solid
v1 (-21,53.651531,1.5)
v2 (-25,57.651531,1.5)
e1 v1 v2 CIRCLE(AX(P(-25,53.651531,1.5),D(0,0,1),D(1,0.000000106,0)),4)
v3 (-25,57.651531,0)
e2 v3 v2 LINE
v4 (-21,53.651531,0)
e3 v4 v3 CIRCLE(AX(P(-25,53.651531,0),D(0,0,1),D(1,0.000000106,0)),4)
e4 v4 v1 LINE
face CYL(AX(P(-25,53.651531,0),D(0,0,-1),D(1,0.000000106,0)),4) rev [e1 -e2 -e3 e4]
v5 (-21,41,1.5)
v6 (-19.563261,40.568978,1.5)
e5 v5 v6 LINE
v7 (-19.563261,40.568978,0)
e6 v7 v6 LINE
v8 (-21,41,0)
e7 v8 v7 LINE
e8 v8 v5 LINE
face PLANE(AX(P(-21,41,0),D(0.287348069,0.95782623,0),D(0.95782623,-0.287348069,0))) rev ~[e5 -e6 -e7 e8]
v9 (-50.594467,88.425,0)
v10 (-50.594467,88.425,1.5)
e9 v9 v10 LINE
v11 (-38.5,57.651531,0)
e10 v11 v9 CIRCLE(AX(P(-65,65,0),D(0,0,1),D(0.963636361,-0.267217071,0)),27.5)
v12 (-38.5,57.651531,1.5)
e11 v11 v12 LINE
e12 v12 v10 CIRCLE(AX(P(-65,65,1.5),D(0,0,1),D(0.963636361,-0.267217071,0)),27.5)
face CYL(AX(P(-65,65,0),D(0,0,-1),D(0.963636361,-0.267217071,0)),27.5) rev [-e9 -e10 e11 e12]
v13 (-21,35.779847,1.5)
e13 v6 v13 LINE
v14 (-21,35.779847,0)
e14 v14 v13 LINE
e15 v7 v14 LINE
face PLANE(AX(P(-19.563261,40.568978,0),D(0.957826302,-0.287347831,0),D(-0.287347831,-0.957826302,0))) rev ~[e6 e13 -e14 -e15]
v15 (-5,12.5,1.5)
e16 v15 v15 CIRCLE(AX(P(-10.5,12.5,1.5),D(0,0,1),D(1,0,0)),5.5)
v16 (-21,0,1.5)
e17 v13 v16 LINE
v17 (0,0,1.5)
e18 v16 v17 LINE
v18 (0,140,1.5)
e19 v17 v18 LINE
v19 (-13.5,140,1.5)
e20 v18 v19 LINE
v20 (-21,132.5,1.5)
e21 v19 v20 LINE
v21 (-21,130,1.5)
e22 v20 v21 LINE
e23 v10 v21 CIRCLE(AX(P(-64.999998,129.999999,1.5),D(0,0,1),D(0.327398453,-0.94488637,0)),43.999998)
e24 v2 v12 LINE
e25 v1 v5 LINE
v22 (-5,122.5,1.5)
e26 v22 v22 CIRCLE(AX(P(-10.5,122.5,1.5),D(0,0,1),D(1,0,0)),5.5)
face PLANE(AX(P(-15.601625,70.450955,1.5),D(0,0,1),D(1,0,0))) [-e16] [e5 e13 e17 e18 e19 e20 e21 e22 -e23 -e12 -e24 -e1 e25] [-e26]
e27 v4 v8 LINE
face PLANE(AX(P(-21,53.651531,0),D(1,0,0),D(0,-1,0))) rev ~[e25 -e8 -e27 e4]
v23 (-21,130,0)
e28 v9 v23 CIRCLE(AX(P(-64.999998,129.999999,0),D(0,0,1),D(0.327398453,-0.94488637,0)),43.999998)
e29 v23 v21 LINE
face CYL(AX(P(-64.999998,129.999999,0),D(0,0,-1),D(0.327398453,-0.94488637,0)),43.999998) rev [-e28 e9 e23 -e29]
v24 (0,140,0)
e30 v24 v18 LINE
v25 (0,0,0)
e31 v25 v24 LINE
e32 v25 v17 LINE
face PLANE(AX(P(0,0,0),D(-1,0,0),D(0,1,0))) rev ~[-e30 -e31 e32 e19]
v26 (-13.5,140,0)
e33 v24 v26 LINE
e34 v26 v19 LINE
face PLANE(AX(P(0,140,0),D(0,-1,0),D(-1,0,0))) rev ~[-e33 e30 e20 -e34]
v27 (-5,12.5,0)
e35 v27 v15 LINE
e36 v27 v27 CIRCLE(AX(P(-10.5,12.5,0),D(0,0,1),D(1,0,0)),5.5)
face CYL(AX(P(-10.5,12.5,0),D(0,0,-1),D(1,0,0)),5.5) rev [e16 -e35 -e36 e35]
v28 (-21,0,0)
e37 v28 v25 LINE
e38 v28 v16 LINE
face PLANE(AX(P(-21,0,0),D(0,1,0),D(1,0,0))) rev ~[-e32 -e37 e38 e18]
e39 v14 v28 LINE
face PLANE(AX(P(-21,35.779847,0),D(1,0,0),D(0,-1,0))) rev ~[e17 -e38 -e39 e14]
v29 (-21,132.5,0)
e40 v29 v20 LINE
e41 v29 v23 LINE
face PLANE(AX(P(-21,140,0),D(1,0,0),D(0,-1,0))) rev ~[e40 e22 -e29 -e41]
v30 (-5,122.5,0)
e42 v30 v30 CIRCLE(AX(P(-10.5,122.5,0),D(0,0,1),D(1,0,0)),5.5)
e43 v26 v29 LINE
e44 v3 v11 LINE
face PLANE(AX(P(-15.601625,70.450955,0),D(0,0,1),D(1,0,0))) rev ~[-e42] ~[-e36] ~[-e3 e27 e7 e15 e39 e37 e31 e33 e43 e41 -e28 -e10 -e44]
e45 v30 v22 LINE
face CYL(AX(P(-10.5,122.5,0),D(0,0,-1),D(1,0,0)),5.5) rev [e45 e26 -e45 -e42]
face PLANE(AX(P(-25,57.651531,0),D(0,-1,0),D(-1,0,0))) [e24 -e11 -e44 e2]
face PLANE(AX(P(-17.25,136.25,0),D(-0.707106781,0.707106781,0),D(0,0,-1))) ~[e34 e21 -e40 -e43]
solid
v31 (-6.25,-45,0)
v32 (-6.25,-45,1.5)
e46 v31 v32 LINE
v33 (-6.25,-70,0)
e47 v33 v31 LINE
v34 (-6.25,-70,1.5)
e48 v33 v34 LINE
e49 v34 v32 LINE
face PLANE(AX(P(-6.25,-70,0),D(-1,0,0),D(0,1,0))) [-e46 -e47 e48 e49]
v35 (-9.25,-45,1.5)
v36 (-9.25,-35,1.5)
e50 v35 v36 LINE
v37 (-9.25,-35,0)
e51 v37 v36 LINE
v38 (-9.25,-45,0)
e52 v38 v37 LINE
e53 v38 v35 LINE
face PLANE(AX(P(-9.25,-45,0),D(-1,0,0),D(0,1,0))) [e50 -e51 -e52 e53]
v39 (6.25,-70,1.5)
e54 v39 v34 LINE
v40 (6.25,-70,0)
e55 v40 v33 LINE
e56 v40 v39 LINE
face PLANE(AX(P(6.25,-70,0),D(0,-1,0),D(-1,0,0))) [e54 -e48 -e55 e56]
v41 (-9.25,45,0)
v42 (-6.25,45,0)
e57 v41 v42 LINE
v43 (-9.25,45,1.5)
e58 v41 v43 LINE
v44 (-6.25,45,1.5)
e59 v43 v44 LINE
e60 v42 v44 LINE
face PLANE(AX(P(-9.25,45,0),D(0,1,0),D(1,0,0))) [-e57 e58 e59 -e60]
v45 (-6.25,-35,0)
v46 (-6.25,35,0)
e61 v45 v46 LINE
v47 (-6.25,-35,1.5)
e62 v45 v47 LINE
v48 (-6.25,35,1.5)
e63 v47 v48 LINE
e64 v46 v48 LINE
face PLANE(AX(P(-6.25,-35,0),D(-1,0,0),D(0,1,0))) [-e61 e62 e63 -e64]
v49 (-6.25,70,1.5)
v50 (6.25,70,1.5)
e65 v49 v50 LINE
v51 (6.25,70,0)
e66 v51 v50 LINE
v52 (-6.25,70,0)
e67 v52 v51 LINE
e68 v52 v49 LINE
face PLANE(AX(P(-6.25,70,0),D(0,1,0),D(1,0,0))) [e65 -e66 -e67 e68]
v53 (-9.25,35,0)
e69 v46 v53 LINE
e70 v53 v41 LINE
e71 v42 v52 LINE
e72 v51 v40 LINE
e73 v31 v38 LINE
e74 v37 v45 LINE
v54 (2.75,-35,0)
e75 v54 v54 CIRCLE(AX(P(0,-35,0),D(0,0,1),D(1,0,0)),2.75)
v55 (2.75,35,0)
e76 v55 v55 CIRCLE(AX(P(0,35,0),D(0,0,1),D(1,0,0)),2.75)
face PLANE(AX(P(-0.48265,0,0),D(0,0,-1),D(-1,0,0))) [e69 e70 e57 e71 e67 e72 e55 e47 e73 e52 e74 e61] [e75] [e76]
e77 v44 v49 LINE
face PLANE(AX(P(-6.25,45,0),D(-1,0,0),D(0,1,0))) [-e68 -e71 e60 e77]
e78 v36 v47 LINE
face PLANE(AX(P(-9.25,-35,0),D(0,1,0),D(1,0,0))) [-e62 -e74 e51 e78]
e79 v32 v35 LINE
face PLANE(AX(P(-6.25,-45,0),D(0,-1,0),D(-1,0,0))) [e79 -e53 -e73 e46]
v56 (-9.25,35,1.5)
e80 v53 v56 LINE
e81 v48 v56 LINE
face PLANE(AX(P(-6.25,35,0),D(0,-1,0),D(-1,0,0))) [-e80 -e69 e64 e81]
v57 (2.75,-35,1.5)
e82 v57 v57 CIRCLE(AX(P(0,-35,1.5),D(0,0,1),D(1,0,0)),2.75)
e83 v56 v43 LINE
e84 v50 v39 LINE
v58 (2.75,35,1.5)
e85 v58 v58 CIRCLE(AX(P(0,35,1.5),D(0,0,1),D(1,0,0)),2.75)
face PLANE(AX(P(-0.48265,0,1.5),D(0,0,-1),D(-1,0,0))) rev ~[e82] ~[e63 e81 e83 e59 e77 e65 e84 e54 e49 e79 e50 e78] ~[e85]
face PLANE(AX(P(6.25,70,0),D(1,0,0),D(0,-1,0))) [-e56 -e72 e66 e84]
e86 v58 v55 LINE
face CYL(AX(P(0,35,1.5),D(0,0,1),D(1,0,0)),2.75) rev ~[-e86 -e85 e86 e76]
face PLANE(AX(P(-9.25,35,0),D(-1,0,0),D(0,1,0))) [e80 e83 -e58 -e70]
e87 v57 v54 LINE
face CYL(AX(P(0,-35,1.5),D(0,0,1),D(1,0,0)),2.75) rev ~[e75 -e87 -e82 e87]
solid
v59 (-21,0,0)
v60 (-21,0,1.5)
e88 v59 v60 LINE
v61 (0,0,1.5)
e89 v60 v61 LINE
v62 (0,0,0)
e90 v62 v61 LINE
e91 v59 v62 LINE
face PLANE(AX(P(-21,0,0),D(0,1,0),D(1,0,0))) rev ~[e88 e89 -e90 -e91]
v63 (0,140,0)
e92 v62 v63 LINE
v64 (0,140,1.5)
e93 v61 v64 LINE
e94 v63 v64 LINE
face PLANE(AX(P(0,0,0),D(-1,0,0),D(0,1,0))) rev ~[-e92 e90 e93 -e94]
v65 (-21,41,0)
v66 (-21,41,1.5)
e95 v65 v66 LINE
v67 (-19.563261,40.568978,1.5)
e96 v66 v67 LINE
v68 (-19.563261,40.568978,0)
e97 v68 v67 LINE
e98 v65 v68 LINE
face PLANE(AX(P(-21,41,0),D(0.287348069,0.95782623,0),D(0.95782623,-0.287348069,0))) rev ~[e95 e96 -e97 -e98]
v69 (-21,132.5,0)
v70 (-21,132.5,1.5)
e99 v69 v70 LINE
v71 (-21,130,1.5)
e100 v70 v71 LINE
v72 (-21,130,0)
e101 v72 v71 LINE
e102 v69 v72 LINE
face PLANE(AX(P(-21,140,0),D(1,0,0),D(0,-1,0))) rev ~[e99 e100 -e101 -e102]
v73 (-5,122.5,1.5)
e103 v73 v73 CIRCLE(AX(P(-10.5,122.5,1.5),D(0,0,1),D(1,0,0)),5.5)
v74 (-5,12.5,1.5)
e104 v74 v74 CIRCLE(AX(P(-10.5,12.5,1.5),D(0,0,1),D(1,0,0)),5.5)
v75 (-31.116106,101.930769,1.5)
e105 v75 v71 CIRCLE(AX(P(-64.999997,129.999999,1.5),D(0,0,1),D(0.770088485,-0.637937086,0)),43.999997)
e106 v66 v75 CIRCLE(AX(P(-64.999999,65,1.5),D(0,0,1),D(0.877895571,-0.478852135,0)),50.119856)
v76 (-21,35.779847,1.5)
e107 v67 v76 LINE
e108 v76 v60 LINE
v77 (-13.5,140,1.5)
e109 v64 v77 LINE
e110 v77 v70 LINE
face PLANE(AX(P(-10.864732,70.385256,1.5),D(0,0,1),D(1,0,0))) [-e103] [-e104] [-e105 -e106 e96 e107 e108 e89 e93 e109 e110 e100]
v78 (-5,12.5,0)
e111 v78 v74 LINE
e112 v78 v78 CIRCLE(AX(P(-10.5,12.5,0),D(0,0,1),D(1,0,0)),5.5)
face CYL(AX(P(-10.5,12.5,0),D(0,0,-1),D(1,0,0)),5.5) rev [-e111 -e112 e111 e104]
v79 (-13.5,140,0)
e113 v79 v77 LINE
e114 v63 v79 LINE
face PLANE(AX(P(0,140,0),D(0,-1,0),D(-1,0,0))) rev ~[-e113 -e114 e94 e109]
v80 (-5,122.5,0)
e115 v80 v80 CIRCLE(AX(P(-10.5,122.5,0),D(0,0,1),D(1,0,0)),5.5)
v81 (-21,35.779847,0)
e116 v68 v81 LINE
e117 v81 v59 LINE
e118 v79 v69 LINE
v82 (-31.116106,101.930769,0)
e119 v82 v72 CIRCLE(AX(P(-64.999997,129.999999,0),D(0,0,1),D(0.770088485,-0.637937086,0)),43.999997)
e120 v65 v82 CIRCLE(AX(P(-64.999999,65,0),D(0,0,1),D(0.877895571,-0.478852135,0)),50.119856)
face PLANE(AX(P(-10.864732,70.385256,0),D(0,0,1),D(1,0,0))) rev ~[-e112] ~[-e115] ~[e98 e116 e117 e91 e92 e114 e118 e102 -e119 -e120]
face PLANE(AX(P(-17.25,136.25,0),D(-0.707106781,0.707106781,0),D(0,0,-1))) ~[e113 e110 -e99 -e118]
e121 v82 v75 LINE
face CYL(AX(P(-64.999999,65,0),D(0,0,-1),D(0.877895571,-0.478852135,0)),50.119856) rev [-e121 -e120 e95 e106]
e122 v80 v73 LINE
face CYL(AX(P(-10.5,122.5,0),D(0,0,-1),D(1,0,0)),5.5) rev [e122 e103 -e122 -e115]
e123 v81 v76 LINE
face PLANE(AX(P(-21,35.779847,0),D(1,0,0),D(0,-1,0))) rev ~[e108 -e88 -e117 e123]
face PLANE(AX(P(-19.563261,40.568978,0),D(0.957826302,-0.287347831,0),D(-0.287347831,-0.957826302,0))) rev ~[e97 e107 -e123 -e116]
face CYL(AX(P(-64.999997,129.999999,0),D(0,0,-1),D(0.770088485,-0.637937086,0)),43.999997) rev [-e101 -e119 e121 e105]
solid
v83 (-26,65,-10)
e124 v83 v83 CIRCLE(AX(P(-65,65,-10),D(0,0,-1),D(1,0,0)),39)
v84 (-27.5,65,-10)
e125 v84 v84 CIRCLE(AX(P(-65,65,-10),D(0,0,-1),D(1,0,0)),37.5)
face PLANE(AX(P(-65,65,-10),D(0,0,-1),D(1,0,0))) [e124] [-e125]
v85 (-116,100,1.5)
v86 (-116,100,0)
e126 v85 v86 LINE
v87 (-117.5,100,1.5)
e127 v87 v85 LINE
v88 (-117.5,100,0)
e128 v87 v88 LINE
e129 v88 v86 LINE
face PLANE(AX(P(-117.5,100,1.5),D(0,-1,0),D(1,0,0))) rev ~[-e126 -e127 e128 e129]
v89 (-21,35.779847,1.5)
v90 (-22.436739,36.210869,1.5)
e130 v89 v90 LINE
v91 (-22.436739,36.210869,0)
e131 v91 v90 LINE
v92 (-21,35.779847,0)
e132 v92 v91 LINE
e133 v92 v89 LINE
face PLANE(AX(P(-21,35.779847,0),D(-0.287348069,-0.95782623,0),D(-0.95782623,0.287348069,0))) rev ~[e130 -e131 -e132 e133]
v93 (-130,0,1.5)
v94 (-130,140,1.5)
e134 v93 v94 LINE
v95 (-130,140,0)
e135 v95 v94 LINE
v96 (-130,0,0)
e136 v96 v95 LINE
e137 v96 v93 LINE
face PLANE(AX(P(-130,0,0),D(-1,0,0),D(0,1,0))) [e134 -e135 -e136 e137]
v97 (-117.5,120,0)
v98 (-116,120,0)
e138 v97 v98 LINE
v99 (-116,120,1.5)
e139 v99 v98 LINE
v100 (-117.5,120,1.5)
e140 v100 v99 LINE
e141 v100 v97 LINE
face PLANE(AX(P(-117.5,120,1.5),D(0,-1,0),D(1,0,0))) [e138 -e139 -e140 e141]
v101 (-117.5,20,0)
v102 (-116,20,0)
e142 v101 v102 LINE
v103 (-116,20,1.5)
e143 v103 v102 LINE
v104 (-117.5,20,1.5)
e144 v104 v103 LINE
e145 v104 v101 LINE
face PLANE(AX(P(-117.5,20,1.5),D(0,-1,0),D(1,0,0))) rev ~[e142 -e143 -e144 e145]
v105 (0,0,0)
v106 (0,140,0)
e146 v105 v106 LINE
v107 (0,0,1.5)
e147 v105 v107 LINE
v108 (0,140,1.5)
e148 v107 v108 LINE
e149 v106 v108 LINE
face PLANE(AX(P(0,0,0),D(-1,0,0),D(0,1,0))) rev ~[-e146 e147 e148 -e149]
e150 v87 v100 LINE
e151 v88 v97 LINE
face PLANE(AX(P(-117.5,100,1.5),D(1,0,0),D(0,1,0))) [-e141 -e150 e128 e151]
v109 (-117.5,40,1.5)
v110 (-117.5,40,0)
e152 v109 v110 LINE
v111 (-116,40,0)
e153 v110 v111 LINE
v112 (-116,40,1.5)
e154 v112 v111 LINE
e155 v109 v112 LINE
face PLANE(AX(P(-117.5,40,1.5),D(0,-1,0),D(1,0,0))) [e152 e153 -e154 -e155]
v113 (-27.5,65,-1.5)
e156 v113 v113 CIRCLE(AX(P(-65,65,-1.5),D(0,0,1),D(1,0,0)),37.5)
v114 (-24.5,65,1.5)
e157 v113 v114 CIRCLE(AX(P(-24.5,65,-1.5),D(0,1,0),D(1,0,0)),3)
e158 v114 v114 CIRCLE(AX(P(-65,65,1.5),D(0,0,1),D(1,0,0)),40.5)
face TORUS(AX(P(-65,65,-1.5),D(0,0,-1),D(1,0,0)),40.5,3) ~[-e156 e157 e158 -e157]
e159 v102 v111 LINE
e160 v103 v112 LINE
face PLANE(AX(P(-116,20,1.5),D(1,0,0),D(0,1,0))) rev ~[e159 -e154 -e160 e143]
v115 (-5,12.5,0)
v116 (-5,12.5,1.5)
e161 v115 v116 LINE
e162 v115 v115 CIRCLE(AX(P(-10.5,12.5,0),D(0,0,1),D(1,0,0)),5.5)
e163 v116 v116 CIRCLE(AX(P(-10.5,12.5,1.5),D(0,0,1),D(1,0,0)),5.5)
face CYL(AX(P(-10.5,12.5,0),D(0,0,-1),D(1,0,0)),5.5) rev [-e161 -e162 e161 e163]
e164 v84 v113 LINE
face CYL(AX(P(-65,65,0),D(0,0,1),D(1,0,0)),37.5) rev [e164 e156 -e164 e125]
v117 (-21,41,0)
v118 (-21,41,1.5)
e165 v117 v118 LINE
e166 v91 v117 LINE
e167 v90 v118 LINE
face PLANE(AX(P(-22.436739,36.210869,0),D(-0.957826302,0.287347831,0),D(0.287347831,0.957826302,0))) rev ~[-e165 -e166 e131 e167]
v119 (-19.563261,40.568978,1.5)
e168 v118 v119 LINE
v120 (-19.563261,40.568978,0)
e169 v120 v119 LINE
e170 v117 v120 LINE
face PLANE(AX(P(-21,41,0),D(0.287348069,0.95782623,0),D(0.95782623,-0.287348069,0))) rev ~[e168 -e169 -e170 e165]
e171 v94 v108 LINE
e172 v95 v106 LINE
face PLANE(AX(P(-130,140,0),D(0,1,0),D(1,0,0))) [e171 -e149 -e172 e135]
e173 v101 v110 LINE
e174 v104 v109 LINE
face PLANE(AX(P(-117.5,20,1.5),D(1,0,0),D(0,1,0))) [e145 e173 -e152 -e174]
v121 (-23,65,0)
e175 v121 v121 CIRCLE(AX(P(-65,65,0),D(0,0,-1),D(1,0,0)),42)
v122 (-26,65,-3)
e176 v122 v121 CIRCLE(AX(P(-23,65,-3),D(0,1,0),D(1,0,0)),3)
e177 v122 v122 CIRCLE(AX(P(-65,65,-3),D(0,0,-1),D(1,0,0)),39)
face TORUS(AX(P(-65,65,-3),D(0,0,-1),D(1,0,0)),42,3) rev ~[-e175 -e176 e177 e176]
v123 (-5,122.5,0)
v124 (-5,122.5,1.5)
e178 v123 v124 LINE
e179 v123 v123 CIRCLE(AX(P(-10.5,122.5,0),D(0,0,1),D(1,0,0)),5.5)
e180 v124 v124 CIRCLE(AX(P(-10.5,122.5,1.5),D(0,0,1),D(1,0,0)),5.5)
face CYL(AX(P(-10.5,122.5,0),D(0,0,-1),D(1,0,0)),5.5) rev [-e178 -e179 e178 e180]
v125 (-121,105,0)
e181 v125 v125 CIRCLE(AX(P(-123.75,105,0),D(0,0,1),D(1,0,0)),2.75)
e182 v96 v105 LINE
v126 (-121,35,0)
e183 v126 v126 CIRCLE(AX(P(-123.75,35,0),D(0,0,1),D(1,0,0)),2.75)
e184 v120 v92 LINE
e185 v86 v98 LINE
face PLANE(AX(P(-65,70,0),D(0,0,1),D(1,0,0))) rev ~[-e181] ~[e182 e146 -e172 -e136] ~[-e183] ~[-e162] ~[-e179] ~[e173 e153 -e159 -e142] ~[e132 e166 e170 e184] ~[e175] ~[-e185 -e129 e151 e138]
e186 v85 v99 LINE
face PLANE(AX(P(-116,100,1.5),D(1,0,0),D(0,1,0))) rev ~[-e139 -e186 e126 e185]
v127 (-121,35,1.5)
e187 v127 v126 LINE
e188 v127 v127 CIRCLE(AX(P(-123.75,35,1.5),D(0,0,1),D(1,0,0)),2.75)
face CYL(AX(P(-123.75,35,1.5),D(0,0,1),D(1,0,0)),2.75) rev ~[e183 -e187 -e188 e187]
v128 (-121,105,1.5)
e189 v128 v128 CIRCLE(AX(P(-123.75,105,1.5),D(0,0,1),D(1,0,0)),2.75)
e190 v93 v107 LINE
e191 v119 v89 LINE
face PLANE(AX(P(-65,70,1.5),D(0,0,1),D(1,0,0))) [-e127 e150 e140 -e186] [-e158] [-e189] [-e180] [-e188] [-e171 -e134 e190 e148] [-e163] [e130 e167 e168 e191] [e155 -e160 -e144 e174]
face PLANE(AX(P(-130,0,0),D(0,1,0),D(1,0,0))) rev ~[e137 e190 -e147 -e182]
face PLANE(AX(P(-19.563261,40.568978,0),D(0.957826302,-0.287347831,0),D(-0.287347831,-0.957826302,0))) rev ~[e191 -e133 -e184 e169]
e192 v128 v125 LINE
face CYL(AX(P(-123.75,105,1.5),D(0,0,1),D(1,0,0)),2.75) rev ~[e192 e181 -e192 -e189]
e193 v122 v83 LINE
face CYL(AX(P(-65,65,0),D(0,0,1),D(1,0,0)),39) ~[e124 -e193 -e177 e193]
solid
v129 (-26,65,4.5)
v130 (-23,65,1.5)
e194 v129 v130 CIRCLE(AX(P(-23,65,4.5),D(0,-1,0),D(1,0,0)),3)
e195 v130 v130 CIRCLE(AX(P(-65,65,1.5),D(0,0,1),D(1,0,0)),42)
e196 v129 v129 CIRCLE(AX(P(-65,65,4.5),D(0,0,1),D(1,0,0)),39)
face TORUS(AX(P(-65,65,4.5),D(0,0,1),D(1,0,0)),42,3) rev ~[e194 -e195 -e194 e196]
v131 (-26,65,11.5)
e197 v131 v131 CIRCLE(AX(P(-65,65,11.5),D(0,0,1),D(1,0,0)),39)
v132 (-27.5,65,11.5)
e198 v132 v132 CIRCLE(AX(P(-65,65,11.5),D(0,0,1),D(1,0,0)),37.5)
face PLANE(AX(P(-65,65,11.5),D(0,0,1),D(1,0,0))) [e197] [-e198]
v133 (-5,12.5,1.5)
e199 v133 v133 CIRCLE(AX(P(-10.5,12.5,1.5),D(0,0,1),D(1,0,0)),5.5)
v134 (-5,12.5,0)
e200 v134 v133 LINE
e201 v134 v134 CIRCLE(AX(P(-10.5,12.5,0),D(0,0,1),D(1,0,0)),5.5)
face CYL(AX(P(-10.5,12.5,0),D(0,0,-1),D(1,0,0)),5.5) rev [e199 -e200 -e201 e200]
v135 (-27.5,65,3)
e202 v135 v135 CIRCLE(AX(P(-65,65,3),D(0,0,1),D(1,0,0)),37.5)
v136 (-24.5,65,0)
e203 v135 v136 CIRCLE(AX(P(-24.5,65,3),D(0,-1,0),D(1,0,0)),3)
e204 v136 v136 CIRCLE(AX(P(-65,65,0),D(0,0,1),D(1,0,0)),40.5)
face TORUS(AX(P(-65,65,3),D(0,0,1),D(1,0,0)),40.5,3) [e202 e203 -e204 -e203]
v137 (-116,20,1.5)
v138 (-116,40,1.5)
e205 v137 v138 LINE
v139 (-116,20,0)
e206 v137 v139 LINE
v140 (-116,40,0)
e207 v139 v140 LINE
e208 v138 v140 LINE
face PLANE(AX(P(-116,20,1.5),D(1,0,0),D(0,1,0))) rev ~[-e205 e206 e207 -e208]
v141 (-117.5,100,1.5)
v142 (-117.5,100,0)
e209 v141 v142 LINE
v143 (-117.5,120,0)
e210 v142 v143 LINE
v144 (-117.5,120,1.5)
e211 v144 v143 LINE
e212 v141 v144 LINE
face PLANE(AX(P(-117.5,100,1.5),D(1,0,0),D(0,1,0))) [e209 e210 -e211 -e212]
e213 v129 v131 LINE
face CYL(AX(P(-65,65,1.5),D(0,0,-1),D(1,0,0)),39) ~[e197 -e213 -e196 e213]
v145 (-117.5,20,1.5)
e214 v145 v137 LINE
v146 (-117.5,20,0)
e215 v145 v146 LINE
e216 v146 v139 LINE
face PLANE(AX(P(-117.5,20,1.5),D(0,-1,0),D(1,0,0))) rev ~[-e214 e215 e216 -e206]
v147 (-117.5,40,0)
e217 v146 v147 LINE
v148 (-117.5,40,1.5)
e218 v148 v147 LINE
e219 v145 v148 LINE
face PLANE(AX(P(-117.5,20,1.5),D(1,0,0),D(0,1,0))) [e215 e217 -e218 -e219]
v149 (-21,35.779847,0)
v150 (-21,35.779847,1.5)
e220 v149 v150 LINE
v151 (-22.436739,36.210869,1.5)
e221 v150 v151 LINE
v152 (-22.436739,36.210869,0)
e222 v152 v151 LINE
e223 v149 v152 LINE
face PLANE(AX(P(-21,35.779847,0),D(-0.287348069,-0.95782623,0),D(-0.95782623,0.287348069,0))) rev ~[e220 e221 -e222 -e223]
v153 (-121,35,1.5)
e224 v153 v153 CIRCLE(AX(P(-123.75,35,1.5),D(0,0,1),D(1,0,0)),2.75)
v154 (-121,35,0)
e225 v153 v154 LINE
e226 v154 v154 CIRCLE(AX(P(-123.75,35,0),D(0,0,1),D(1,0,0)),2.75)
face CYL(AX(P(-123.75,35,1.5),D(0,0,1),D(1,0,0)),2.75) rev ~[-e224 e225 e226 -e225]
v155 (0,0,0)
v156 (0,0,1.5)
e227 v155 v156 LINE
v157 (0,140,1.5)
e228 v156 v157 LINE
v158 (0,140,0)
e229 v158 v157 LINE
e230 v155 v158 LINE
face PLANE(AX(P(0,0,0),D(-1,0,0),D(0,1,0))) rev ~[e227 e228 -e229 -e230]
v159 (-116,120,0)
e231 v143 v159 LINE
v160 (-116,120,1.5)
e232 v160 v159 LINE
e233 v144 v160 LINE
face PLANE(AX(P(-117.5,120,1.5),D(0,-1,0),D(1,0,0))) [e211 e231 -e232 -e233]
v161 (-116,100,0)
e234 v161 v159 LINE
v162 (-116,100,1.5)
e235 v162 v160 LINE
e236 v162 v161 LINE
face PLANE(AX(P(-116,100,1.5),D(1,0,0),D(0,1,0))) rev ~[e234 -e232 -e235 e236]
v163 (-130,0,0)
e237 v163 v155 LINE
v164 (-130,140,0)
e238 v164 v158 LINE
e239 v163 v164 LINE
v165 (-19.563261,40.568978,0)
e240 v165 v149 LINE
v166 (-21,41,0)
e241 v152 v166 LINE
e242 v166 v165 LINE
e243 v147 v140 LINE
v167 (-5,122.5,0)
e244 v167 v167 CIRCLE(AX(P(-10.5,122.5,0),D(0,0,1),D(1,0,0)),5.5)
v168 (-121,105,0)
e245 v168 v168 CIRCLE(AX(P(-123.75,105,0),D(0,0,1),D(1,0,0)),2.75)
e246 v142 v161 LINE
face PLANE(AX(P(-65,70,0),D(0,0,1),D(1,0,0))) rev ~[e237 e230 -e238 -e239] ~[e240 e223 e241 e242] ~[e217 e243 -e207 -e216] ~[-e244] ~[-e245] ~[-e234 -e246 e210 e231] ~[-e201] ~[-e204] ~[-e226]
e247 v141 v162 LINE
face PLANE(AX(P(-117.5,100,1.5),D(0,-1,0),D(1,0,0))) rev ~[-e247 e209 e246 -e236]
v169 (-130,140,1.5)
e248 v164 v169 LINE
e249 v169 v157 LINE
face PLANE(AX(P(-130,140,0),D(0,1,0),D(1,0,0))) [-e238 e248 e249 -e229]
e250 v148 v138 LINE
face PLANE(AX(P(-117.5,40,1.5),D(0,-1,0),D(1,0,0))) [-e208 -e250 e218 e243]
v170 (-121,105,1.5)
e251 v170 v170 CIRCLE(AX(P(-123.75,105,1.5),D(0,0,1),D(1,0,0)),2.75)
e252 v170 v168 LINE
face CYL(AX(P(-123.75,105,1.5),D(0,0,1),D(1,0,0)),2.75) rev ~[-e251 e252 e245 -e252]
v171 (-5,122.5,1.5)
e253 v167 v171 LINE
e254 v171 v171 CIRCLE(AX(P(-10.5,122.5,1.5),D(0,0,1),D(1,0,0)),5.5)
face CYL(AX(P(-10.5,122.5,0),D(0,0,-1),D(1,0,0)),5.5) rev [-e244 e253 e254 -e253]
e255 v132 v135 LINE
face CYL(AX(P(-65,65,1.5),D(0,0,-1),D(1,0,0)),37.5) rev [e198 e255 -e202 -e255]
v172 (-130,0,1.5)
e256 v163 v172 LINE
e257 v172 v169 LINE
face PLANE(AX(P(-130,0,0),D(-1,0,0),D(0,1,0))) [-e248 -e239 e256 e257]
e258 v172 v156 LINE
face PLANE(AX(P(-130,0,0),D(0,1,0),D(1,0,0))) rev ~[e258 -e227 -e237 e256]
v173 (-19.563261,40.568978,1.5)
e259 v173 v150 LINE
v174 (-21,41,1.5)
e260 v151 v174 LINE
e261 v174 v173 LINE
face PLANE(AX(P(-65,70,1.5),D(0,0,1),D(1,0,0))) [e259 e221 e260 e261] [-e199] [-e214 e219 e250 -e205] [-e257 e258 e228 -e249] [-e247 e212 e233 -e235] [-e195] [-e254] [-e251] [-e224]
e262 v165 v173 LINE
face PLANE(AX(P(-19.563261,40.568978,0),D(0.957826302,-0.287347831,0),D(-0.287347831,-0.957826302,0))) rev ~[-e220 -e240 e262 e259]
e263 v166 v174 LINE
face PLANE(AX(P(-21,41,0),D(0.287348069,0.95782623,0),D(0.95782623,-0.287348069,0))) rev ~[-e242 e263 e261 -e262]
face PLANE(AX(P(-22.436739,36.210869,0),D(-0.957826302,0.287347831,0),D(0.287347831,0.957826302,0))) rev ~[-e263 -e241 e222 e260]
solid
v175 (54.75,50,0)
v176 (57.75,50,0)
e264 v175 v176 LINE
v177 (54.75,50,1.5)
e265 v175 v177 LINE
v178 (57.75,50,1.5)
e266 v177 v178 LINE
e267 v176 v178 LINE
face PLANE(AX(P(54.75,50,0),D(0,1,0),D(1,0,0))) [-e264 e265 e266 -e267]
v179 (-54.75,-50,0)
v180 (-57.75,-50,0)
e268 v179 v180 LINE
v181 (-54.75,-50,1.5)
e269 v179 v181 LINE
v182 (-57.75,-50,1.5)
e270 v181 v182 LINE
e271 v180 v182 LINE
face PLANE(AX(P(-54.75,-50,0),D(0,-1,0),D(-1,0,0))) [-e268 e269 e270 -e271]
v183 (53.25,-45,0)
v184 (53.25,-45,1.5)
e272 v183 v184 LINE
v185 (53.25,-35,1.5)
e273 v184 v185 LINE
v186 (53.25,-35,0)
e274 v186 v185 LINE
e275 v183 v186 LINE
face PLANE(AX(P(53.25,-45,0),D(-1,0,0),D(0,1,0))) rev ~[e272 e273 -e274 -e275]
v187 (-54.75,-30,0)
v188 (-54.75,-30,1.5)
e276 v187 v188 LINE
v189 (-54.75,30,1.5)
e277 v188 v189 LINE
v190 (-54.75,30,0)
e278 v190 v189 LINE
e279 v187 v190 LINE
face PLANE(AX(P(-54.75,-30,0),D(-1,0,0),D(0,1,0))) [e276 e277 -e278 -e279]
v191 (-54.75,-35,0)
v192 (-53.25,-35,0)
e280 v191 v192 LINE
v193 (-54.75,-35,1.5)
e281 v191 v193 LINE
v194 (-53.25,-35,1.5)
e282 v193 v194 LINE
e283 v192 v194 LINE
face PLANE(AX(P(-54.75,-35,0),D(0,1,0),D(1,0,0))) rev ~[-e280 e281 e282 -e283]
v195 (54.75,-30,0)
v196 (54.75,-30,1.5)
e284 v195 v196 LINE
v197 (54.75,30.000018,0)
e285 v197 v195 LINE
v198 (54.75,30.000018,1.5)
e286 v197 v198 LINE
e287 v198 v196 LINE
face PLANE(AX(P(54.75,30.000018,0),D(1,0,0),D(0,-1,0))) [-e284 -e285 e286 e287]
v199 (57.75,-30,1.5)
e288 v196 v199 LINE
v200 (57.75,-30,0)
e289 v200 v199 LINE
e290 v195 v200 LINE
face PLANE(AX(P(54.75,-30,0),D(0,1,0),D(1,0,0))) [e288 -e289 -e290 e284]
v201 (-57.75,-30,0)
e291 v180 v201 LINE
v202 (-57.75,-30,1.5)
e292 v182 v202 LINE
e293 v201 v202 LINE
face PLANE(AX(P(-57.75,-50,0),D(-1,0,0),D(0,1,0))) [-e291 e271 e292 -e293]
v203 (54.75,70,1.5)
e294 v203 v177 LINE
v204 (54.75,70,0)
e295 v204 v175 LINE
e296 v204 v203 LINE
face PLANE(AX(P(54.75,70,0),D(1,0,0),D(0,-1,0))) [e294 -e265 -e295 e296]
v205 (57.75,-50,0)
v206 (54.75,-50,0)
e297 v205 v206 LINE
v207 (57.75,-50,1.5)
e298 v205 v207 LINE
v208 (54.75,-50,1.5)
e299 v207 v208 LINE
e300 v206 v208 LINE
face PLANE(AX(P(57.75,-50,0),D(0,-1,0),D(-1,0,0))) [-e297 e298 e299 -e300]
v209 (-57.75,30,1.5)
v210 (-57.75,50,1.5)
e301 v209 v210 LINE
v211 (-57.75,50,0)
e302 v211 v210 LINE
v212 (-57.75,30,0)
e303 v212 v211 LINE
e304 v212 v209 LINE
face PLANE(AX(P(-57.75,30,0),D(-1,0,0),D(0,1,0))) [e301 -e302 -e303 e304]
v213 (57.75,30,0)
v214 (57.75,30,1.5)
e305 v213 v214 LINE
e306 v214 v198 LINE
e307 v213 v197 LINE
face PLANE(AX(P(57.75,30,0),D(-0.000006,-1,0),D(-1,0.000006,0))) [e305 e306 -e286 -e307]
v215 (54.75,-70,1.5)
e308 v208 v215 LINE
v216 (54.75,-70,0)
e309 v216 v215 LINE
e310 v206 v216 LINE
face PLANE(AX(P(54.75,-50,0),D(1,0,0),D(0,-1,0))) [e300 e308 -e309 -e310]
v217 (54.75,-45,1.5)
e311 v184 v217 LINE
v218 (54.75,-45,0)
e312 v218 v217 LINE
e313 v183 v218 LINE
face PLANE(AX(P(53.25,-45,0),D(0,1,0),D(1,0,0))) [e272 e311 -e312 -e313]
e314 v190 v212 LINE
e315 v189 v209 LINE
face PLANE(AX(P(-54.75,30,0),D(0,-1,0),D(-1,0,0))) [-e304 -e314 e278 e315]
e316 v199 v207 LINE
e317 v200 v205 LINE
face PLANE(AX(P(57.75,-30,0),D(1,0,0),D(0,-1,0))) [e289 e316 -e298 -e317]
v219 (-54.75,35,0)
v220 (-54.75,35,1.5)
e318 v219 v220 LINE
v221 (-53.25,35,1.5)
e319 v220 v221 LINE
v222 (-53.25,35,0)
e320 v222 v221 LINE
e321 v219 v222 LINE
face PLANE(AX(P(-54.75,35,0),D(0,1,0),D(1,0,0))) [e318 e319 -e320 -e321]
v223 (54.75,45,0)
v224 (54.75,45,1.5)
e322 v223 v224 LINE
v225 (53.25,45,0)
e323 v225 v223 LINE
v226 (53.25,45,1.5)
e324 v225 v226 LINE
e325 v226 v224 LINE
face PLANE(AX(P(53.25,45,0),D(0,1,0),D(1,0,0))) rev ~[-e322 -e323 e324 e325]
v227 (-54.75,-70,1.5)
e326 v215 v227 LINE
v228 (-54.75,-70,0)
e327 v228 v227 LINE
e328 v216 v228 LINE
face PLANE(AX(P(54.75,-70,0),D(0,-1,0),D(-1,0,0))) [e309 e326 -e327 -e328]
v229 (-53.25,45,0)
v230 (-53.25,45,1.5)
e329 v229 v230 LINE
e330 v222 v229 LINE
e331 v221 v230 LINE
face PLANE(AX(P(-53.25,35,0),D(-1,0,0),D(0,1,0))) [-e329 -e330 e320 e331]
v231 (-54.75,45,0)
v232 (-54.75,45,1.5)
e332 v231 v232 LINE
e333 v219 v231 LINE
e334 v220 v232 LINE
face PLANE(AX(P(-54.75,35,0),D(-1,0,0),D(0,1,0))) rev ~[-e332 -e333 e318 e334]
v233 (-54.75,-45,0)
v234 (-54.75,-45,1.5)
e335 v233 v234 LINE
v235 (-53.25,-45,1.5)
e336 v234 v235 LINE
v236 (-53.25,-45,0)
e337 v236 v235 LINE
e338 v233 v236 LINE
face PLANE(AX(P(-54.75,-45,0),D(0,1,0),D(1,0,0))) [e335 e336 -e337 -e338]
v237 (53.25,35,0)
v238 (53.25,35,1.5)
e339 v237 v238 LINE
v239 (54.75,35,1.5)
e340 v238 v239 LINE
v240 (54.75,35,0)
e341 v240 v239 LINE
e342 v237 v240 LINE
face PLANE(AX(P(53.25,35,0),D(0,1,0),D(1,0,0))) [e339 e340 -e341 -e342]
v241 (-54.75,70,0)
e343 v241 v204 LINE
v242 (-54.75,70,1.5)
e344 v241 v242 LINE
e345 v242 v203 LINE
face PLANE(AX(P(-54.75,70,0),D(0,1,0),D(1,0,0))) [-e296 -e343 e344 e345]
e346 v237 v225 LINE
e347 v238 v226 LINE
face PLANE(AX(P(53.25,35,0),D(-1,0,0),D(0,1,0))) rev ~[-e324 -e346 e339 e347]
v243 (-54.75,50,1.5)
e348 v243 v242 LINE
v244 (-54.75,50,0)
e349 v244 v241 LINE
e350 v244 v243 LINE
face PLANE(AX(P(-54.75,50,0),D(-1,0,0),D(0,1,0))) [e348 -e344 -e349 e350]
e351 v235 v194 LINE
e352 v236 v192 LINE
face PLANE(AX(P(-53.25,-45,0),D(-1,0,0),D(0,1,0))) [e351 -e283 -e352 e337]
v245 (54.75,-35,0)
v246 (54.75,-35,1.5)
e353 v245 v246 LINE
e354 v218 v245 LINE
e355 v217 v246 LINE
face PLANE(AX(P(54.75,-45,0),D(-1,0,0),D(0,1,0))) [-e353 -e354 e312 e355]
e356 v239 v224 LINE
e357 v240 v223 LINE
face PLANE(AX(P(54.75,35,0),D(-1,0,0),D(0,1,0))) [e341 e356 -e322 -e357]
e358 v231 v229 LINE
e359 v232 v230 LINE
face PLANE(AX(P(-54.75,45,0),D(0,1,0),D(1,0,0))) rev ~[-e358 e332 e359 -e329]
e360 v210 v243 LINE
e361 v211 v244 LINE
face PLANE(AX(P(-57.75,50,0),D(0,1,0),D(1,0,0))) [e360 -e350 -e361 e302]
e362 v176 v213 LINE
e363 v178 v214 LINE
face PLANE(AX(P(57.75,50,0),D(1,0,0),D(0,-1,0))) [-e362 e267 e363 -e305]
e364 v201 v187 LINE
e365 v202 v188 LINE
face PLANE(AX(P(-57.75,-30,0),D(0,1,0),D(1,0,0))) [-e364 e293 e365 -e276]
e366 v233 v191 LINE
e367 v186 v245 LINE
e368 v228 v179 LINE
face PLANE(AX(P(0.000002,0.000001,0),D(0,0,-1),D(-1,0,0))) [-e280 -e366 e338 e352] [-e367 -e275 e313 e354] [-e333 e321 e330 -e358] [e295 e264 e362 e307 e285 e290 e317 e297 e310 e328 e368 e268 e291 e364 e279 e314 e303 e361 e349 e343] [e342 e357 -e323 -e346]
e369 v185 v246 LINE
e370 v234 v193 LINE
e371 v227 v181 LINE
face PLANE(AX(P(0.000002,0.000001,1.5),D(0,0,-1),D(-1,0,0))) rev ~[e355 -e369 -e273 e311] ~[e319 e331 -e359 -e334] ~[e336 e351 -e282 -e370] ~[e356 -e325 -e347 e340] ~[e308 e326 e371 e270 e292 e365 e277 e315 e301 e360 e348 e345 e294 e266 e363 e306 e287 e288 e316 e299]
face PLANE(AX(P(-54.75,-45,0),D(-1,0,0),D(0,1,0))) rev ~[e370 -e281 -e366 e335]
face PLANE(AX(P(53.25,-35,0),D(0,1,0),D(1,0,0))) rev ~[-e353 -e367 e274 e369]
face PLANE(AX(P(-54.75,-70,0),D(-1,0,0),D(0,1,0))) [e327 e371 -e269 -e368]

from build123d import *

# Parameters (mm, degrees)
SKETCH001_R     = 5.5
PAD_DEPTH       = 1.5
CHAMFER_SIZE    = 7.5
SKETCH002_R     = 5.5
PAD002_DEPTH    = 1.5
CHAMFER001_SIZE = 7.5
SKETCH003_W     = 130
SKETCH003_H     = 140
SKETCH003_R     = 5.5
SKETCH003_R_2   = 37.5
PAD003_DEPTH    = 1.5
SKETCH_R        = 39
SKETCH_R_2      = 37.5
PAD004_DEPTH    = 10
FILLET_R        = 3
FILLET001_R     = 3
SKETCH007_W     = 1.5
SKETCH007_H     = 20
POCKET001_DEPTH = 1.5
SKETCH011_R     = 2.75
HOLE001_DEPTH   = 11.501
SKETCH005_W     = 130
SKETCH005_H     = 140
SKETCH005_R     = 5.5
SKETCH005_R_2   = 37.5
PAD005_DEPTH    = 1.5
SKETCH004_R     = 39
SKETCH004_R_2   = 37.5
PAD006_DEPTH    = 10
FILLET002_R     = 3
FILLET003_R     = 3
SKETCH006_W     = 1.5
SKETCH006_H     = 20
POCKET_DEPTH    = 1.5
SKETCH012_R     = 2.75
HOLE002_DEPTH   = 1.501
SKETCH008_W     = 1.5
SKETCH008_H     = 10
PAD007_DEPTH    = 1.5
PAD008_DEPTH    = 1.5
SKETCH010_R     = 2.75
HOLE_DEPTH      = 1.501


with BuildPart() as cuchillafijaseparador:
    # Sketch001 → Pad (new body)
    with BuildSketch(Plane.XY):
        with BuildLine():
            Line((0, 140), (-21, 140))
            Line((-21, 140), (-21, 130))
            ThreePointArc((-50.594467, 88.425), (-29.154195, 104.483764), (-21, 130))
            ThreePointArc((-38.5, 57.651531), (-39.405718, 75.058963), (-50.594467, 88.425))
            Line((-25, 57.651531), (-38.5, 57.651531))
            ThreePointArc((-21, 53.651531), (-22.171573, 56.479958), (-25, 57.651531))
            Line((-21, 53.651531), (-21, 41))
            Line((-21, 41), (-19.563261, 40.568978))
            Line((-19.563261, 40.568978), (-21, 35.779847))
            Line((-21, 35.779847), (-21, 0))
            Line((-21, 0), (0, 0))
            Line((0, 0), (0, 140))
        make_face()
        with Locations((-10.5, 12.5)):
            Circle(SKETCH001_R, mode=Mode.SUBTRACT)
        with Locations((-10.5, 122.5)):
            Circle(SKETCH001_R, mode=Mode.SUBTRACT)
    extrude(amount=PAD_DEPTH)

    # Chamfer
    chamfer_edges = [cuchillafijaseparador.edges().sort_by_distance(p)[0] for p in [
        (-21, 140, 0.75),
    ]]
    chamfer(chamfer_edges, length=CHAMFER_SIZE)


with BuildPart() as cuchillafija:
    # Sketch002 → Pad002 (new body)
    with BuildSketch(Plane.XY):
        with BuildLine():
            Line((0, 140), (-21, 140))
            Line((-21, 140), (-21, 130))
            ThreePointArc((-31.116106, 101.930769), (-23.606212, 115.081745), (-21, 130))
            ThreePointArc((-21, 41), (-15.556953, 73.208843), (-31.116106, 101.930769))
            Line((-21, 41), (-19.563261, 40.568978))
            Line((-19.563261, 40.568978), (-21, 35.779847))
            Line((-21, 35.779847), (-21, 0))
            Line((-21, 0), (0, 0))
            Line((0, 0), (0, 140))
        make_face()
        with Locations((-10.5, 12.5)):
            Circle(SKETCH002_R, mode=Mode.SUBTRACT)
        with Locations((-10.5, 122.5)):
            Circle(SKETCH002_R, mode=Mode.SUBTRACT)
    extrude(amount=PAD002_DEPTH)

    # Chamfer001
    chamfer001_edges = [cuchillafija.edges().sort_by_distance(p)[0] for p in [
        (-21, 140, 0.75),
    ]]
    chamfer(chamfer001_edges, length=CHAMFER001_SIZE)


with BuildPart() as placacaja:
    # Sketch003 → Pad003 (new body)
    with BuildSketch(Plane.XY):
        with Locations((-65, 70)):
            Rectangle(SKETCH003_W, SKETCH003_H)
        with Locations((-10.5, 12.5)):
            Circle(SKETCH003_R, mode=Mode.SUBTRACT)
        with Locations((-10.5, 122.5)):
            Circle(SKETCH003_R, mode=Mode.SUBTRACT)
        with Locations((-65, 65)):
            Circle(SKETCH003_R_2, mode=Mode.SUBTRACT)
        Polygon((-21, 41), (-19.563261, 40.568978), (-21, 35.779847), (-22.436739, 36.210869), align=None, mode=Mode.SUBTRACT)
    extrude(amount=PAD003_DEPTH)

    # Sketch (on Face12 of Pad003) → Pad004 (join)
    with BuildSketch(Plane(origin=(0, 0, 0), x_dir=(1, 0, 0), z_dir=(0, 0, -1))):
        with Locations((-65, -65)):
            Circle(SKETCH_R)
        with Locations((-65, -65)):
            Circle(SKETCH_R_2, mode=Mode.SUBTRACT)
    extrude(amount=PAD004_DEPTH)

    # Fillet
    fillet_edges = [placacaja.edges().sort_by_distance(p)[0] for p in [
        (-104, 65, 0),
    ]]
    fillet(fillet_edges, radius=FILLET_R)

    # Fillet001
    fillet001_edges = [placacaja.edges().sort_by_distance(p)[0] for p in [
        (-102.5, 65, 1.5),
    ]]
    fillet(fillet001_edges, radius=FILLET001_R)

    # Sketch007 (on Face1 of Fillet001) → Pocket001 (cut)
    with BuildSketch(Plane.XY.offset(1.5)):
        with Locations((-116.75, 110)):
            Rectangle(SKETCH007_W, SKETCH007_H)
        with Locations((-116.75, 30)):
            Rectangle(SKETCH007_W, SKETCH007_H)
    extrude(amount=-POCKET001_DEPTH, mode=Mode.SUBTRACT)

    # Sketch011 (on Face1 of Pocket001) → Hole001 (cut, through all)
    with BuildSketch(Plane.XY.offset(1.5)):
        with Locations((-123.75, 105)):
            Circle(SKETCH011_R)
        with Locations((-123.75, 35)):
            Circle(SKETCH011_R)
    extrude(amount=-HOLE001_DEPTH, mode=Mode.SUBTRACT)


with BuildPart() as placacajasalida:
    # Sketch005 → Pad005 (new body)
    with BuildSketch(Plane.XY):
        with Locations((-65, 70)):
            Rectangle(SKETCH005_W, SKETCH005_H)
        with Locations((-10.5, 12.5)):
            Circle(SKETCH005_R, mode=Mode.SUBTRACT)
        with Locations((-10.5, 122.5)):
            Circle(SKETCH005_R, mode=Mode.SUBTRACT)
        with Locations((-65, 65)):
            Circle(SKETCH005_R_2, mode=Mode.SUBTRACT)
        Polygon((-21, 41), (-19.563261, 40.568978), (-21, 35.779847), (-22.436739, 36.210869), align=None, mode=Mode.SUBTRACT)
    extrude(amount=PAD005_DEPTH)

    # Sketch004 (on Face13 of Pad005) → Pad006 (join)
    with BuildSketch(Plane.XY.offset(1.5)):
        with Locations((-65, 65)):
            Circle(SKETCH004_R)
        with Locations((-65, 65)):
            Circle(SKETCH004_R_2, mode=Mode.SUBTRACT)
    extrude(amount=PAD006_DEPTH)

    # Fillet002
    fillet002_edges = [placacajasalida.edges().sort_by_distance(p)[0] for p in [
        (-102.5, 65, 0),
    ]]
    fillet(fillet002_edges, radius=FILLET002_R)

    # Fillet003
    fillet003_edges = [placacajasalida.edges().sort_by_distance(p)[0] for p in [
        (-104, 65, 1.5),
    ]]
    fillet(fillet003_edges, radius=FILLET003_R)

    # Sketch006 (on Face1 of Fillet003) → Pocket (cut)
    with BuildSketch(Plane.XY.offset(1.5)):
        with Locations((-116.75, 110)):
            Rectangle(SKETCH006_W, SKETCH006_H)
        with Locations((-116.75, 30)):
            Rectangle(SKETCH006_W, SKETCH006_H)
    extrude(amount=-POCKET_DEPTH, mode=Mode.SUBTRACT)

    # Sketch012 (on Face1 of Pocket) → Hole002 (cut, through all)
    with BuildSketch(Plane.XY.offset(1.5)):
        with Locations((-123.75, 105)):
            Circle(SKETCH012_R)
        with Locations((-123.75, 35)):
            Circle(SKETCH012_R)
    extrude(amount=-HOLE002_DEPTH, mode=Mode.SUBTRACT)


with BuildPart() as placafondo:
    # Sketch008 → Pad007 (new body)
    with BuildSketch(Plane.XY):
        Polygon((-54.75, 70), (54.75, 70), (54.75, 50), (57.75, 50), (57.75, 30), (54.75, 30.000018), (54.75, -30), (57.75, -30), (57.75, -50), (54.75, -50), (54.75, -70), (-54.75, -70), (-54.75, -50), (-57.75, -50), (-57.75, -30), (-54.75, -30), (-54.75, 30), (-57.75, 30), (-57.75, 50), (-54.75, 50), align=None)
        with Locations((-54, 40)):
            Rectangle(SKETCH008_W, SKETCH008_H, mode=Mode.SUBTRACT)
        with Locations((54, 40)):
            Rectangle(SKETCH008_W, SKETCH008_H, mode=Mode.SUBTRACT)
        with Locations((54, -40)):
            Rectangle(SKETCH008_W, SKETCH008_H, mode=Mode.SUBTRACT)
        with Locations((-54, -40)):
            Rectangle(SKETCH008_W, SKETCH008_H, mode=Mode.SUBTRACT)
    extrude(amount=PAD007_DEPTH)


with BuildPart() as placa_union:
    # Sketch009 → Pad008 (new body)
    with BuildSketch(Plane.XY):
        Polygon((-6.25, 70), (6.25, 70), (6.25, -70), (-6.25, -70), (-6.25, -45), (-9.25, -45), (-9.25, -35), (-6.25, -35), (-6.25, 35), (-9.25, 35), (-9.25, 45), (-6.25, 45), align=None)
    extrude(amount=PAD008_DEPTH)

    # Sketch010 (on Face14 of Pad008) → Hole (cut, through all)
    with BuildSketch(Plane.XY.offset(1.5)):
        with Locations((0, 35)):
            Circle(SKETCH010_R)
        with Locations((0, -35)):
            Circle(SKETCH010_R)
    extrude(amount=-HOLE_DEPTH, mode=Mode.SUBTRACT)


solid = Compound([cuchillafijaseparador.part, cuchillafija.part, placacaja.part, placacajasalida.part, placafondo.part, placa_union.part])
